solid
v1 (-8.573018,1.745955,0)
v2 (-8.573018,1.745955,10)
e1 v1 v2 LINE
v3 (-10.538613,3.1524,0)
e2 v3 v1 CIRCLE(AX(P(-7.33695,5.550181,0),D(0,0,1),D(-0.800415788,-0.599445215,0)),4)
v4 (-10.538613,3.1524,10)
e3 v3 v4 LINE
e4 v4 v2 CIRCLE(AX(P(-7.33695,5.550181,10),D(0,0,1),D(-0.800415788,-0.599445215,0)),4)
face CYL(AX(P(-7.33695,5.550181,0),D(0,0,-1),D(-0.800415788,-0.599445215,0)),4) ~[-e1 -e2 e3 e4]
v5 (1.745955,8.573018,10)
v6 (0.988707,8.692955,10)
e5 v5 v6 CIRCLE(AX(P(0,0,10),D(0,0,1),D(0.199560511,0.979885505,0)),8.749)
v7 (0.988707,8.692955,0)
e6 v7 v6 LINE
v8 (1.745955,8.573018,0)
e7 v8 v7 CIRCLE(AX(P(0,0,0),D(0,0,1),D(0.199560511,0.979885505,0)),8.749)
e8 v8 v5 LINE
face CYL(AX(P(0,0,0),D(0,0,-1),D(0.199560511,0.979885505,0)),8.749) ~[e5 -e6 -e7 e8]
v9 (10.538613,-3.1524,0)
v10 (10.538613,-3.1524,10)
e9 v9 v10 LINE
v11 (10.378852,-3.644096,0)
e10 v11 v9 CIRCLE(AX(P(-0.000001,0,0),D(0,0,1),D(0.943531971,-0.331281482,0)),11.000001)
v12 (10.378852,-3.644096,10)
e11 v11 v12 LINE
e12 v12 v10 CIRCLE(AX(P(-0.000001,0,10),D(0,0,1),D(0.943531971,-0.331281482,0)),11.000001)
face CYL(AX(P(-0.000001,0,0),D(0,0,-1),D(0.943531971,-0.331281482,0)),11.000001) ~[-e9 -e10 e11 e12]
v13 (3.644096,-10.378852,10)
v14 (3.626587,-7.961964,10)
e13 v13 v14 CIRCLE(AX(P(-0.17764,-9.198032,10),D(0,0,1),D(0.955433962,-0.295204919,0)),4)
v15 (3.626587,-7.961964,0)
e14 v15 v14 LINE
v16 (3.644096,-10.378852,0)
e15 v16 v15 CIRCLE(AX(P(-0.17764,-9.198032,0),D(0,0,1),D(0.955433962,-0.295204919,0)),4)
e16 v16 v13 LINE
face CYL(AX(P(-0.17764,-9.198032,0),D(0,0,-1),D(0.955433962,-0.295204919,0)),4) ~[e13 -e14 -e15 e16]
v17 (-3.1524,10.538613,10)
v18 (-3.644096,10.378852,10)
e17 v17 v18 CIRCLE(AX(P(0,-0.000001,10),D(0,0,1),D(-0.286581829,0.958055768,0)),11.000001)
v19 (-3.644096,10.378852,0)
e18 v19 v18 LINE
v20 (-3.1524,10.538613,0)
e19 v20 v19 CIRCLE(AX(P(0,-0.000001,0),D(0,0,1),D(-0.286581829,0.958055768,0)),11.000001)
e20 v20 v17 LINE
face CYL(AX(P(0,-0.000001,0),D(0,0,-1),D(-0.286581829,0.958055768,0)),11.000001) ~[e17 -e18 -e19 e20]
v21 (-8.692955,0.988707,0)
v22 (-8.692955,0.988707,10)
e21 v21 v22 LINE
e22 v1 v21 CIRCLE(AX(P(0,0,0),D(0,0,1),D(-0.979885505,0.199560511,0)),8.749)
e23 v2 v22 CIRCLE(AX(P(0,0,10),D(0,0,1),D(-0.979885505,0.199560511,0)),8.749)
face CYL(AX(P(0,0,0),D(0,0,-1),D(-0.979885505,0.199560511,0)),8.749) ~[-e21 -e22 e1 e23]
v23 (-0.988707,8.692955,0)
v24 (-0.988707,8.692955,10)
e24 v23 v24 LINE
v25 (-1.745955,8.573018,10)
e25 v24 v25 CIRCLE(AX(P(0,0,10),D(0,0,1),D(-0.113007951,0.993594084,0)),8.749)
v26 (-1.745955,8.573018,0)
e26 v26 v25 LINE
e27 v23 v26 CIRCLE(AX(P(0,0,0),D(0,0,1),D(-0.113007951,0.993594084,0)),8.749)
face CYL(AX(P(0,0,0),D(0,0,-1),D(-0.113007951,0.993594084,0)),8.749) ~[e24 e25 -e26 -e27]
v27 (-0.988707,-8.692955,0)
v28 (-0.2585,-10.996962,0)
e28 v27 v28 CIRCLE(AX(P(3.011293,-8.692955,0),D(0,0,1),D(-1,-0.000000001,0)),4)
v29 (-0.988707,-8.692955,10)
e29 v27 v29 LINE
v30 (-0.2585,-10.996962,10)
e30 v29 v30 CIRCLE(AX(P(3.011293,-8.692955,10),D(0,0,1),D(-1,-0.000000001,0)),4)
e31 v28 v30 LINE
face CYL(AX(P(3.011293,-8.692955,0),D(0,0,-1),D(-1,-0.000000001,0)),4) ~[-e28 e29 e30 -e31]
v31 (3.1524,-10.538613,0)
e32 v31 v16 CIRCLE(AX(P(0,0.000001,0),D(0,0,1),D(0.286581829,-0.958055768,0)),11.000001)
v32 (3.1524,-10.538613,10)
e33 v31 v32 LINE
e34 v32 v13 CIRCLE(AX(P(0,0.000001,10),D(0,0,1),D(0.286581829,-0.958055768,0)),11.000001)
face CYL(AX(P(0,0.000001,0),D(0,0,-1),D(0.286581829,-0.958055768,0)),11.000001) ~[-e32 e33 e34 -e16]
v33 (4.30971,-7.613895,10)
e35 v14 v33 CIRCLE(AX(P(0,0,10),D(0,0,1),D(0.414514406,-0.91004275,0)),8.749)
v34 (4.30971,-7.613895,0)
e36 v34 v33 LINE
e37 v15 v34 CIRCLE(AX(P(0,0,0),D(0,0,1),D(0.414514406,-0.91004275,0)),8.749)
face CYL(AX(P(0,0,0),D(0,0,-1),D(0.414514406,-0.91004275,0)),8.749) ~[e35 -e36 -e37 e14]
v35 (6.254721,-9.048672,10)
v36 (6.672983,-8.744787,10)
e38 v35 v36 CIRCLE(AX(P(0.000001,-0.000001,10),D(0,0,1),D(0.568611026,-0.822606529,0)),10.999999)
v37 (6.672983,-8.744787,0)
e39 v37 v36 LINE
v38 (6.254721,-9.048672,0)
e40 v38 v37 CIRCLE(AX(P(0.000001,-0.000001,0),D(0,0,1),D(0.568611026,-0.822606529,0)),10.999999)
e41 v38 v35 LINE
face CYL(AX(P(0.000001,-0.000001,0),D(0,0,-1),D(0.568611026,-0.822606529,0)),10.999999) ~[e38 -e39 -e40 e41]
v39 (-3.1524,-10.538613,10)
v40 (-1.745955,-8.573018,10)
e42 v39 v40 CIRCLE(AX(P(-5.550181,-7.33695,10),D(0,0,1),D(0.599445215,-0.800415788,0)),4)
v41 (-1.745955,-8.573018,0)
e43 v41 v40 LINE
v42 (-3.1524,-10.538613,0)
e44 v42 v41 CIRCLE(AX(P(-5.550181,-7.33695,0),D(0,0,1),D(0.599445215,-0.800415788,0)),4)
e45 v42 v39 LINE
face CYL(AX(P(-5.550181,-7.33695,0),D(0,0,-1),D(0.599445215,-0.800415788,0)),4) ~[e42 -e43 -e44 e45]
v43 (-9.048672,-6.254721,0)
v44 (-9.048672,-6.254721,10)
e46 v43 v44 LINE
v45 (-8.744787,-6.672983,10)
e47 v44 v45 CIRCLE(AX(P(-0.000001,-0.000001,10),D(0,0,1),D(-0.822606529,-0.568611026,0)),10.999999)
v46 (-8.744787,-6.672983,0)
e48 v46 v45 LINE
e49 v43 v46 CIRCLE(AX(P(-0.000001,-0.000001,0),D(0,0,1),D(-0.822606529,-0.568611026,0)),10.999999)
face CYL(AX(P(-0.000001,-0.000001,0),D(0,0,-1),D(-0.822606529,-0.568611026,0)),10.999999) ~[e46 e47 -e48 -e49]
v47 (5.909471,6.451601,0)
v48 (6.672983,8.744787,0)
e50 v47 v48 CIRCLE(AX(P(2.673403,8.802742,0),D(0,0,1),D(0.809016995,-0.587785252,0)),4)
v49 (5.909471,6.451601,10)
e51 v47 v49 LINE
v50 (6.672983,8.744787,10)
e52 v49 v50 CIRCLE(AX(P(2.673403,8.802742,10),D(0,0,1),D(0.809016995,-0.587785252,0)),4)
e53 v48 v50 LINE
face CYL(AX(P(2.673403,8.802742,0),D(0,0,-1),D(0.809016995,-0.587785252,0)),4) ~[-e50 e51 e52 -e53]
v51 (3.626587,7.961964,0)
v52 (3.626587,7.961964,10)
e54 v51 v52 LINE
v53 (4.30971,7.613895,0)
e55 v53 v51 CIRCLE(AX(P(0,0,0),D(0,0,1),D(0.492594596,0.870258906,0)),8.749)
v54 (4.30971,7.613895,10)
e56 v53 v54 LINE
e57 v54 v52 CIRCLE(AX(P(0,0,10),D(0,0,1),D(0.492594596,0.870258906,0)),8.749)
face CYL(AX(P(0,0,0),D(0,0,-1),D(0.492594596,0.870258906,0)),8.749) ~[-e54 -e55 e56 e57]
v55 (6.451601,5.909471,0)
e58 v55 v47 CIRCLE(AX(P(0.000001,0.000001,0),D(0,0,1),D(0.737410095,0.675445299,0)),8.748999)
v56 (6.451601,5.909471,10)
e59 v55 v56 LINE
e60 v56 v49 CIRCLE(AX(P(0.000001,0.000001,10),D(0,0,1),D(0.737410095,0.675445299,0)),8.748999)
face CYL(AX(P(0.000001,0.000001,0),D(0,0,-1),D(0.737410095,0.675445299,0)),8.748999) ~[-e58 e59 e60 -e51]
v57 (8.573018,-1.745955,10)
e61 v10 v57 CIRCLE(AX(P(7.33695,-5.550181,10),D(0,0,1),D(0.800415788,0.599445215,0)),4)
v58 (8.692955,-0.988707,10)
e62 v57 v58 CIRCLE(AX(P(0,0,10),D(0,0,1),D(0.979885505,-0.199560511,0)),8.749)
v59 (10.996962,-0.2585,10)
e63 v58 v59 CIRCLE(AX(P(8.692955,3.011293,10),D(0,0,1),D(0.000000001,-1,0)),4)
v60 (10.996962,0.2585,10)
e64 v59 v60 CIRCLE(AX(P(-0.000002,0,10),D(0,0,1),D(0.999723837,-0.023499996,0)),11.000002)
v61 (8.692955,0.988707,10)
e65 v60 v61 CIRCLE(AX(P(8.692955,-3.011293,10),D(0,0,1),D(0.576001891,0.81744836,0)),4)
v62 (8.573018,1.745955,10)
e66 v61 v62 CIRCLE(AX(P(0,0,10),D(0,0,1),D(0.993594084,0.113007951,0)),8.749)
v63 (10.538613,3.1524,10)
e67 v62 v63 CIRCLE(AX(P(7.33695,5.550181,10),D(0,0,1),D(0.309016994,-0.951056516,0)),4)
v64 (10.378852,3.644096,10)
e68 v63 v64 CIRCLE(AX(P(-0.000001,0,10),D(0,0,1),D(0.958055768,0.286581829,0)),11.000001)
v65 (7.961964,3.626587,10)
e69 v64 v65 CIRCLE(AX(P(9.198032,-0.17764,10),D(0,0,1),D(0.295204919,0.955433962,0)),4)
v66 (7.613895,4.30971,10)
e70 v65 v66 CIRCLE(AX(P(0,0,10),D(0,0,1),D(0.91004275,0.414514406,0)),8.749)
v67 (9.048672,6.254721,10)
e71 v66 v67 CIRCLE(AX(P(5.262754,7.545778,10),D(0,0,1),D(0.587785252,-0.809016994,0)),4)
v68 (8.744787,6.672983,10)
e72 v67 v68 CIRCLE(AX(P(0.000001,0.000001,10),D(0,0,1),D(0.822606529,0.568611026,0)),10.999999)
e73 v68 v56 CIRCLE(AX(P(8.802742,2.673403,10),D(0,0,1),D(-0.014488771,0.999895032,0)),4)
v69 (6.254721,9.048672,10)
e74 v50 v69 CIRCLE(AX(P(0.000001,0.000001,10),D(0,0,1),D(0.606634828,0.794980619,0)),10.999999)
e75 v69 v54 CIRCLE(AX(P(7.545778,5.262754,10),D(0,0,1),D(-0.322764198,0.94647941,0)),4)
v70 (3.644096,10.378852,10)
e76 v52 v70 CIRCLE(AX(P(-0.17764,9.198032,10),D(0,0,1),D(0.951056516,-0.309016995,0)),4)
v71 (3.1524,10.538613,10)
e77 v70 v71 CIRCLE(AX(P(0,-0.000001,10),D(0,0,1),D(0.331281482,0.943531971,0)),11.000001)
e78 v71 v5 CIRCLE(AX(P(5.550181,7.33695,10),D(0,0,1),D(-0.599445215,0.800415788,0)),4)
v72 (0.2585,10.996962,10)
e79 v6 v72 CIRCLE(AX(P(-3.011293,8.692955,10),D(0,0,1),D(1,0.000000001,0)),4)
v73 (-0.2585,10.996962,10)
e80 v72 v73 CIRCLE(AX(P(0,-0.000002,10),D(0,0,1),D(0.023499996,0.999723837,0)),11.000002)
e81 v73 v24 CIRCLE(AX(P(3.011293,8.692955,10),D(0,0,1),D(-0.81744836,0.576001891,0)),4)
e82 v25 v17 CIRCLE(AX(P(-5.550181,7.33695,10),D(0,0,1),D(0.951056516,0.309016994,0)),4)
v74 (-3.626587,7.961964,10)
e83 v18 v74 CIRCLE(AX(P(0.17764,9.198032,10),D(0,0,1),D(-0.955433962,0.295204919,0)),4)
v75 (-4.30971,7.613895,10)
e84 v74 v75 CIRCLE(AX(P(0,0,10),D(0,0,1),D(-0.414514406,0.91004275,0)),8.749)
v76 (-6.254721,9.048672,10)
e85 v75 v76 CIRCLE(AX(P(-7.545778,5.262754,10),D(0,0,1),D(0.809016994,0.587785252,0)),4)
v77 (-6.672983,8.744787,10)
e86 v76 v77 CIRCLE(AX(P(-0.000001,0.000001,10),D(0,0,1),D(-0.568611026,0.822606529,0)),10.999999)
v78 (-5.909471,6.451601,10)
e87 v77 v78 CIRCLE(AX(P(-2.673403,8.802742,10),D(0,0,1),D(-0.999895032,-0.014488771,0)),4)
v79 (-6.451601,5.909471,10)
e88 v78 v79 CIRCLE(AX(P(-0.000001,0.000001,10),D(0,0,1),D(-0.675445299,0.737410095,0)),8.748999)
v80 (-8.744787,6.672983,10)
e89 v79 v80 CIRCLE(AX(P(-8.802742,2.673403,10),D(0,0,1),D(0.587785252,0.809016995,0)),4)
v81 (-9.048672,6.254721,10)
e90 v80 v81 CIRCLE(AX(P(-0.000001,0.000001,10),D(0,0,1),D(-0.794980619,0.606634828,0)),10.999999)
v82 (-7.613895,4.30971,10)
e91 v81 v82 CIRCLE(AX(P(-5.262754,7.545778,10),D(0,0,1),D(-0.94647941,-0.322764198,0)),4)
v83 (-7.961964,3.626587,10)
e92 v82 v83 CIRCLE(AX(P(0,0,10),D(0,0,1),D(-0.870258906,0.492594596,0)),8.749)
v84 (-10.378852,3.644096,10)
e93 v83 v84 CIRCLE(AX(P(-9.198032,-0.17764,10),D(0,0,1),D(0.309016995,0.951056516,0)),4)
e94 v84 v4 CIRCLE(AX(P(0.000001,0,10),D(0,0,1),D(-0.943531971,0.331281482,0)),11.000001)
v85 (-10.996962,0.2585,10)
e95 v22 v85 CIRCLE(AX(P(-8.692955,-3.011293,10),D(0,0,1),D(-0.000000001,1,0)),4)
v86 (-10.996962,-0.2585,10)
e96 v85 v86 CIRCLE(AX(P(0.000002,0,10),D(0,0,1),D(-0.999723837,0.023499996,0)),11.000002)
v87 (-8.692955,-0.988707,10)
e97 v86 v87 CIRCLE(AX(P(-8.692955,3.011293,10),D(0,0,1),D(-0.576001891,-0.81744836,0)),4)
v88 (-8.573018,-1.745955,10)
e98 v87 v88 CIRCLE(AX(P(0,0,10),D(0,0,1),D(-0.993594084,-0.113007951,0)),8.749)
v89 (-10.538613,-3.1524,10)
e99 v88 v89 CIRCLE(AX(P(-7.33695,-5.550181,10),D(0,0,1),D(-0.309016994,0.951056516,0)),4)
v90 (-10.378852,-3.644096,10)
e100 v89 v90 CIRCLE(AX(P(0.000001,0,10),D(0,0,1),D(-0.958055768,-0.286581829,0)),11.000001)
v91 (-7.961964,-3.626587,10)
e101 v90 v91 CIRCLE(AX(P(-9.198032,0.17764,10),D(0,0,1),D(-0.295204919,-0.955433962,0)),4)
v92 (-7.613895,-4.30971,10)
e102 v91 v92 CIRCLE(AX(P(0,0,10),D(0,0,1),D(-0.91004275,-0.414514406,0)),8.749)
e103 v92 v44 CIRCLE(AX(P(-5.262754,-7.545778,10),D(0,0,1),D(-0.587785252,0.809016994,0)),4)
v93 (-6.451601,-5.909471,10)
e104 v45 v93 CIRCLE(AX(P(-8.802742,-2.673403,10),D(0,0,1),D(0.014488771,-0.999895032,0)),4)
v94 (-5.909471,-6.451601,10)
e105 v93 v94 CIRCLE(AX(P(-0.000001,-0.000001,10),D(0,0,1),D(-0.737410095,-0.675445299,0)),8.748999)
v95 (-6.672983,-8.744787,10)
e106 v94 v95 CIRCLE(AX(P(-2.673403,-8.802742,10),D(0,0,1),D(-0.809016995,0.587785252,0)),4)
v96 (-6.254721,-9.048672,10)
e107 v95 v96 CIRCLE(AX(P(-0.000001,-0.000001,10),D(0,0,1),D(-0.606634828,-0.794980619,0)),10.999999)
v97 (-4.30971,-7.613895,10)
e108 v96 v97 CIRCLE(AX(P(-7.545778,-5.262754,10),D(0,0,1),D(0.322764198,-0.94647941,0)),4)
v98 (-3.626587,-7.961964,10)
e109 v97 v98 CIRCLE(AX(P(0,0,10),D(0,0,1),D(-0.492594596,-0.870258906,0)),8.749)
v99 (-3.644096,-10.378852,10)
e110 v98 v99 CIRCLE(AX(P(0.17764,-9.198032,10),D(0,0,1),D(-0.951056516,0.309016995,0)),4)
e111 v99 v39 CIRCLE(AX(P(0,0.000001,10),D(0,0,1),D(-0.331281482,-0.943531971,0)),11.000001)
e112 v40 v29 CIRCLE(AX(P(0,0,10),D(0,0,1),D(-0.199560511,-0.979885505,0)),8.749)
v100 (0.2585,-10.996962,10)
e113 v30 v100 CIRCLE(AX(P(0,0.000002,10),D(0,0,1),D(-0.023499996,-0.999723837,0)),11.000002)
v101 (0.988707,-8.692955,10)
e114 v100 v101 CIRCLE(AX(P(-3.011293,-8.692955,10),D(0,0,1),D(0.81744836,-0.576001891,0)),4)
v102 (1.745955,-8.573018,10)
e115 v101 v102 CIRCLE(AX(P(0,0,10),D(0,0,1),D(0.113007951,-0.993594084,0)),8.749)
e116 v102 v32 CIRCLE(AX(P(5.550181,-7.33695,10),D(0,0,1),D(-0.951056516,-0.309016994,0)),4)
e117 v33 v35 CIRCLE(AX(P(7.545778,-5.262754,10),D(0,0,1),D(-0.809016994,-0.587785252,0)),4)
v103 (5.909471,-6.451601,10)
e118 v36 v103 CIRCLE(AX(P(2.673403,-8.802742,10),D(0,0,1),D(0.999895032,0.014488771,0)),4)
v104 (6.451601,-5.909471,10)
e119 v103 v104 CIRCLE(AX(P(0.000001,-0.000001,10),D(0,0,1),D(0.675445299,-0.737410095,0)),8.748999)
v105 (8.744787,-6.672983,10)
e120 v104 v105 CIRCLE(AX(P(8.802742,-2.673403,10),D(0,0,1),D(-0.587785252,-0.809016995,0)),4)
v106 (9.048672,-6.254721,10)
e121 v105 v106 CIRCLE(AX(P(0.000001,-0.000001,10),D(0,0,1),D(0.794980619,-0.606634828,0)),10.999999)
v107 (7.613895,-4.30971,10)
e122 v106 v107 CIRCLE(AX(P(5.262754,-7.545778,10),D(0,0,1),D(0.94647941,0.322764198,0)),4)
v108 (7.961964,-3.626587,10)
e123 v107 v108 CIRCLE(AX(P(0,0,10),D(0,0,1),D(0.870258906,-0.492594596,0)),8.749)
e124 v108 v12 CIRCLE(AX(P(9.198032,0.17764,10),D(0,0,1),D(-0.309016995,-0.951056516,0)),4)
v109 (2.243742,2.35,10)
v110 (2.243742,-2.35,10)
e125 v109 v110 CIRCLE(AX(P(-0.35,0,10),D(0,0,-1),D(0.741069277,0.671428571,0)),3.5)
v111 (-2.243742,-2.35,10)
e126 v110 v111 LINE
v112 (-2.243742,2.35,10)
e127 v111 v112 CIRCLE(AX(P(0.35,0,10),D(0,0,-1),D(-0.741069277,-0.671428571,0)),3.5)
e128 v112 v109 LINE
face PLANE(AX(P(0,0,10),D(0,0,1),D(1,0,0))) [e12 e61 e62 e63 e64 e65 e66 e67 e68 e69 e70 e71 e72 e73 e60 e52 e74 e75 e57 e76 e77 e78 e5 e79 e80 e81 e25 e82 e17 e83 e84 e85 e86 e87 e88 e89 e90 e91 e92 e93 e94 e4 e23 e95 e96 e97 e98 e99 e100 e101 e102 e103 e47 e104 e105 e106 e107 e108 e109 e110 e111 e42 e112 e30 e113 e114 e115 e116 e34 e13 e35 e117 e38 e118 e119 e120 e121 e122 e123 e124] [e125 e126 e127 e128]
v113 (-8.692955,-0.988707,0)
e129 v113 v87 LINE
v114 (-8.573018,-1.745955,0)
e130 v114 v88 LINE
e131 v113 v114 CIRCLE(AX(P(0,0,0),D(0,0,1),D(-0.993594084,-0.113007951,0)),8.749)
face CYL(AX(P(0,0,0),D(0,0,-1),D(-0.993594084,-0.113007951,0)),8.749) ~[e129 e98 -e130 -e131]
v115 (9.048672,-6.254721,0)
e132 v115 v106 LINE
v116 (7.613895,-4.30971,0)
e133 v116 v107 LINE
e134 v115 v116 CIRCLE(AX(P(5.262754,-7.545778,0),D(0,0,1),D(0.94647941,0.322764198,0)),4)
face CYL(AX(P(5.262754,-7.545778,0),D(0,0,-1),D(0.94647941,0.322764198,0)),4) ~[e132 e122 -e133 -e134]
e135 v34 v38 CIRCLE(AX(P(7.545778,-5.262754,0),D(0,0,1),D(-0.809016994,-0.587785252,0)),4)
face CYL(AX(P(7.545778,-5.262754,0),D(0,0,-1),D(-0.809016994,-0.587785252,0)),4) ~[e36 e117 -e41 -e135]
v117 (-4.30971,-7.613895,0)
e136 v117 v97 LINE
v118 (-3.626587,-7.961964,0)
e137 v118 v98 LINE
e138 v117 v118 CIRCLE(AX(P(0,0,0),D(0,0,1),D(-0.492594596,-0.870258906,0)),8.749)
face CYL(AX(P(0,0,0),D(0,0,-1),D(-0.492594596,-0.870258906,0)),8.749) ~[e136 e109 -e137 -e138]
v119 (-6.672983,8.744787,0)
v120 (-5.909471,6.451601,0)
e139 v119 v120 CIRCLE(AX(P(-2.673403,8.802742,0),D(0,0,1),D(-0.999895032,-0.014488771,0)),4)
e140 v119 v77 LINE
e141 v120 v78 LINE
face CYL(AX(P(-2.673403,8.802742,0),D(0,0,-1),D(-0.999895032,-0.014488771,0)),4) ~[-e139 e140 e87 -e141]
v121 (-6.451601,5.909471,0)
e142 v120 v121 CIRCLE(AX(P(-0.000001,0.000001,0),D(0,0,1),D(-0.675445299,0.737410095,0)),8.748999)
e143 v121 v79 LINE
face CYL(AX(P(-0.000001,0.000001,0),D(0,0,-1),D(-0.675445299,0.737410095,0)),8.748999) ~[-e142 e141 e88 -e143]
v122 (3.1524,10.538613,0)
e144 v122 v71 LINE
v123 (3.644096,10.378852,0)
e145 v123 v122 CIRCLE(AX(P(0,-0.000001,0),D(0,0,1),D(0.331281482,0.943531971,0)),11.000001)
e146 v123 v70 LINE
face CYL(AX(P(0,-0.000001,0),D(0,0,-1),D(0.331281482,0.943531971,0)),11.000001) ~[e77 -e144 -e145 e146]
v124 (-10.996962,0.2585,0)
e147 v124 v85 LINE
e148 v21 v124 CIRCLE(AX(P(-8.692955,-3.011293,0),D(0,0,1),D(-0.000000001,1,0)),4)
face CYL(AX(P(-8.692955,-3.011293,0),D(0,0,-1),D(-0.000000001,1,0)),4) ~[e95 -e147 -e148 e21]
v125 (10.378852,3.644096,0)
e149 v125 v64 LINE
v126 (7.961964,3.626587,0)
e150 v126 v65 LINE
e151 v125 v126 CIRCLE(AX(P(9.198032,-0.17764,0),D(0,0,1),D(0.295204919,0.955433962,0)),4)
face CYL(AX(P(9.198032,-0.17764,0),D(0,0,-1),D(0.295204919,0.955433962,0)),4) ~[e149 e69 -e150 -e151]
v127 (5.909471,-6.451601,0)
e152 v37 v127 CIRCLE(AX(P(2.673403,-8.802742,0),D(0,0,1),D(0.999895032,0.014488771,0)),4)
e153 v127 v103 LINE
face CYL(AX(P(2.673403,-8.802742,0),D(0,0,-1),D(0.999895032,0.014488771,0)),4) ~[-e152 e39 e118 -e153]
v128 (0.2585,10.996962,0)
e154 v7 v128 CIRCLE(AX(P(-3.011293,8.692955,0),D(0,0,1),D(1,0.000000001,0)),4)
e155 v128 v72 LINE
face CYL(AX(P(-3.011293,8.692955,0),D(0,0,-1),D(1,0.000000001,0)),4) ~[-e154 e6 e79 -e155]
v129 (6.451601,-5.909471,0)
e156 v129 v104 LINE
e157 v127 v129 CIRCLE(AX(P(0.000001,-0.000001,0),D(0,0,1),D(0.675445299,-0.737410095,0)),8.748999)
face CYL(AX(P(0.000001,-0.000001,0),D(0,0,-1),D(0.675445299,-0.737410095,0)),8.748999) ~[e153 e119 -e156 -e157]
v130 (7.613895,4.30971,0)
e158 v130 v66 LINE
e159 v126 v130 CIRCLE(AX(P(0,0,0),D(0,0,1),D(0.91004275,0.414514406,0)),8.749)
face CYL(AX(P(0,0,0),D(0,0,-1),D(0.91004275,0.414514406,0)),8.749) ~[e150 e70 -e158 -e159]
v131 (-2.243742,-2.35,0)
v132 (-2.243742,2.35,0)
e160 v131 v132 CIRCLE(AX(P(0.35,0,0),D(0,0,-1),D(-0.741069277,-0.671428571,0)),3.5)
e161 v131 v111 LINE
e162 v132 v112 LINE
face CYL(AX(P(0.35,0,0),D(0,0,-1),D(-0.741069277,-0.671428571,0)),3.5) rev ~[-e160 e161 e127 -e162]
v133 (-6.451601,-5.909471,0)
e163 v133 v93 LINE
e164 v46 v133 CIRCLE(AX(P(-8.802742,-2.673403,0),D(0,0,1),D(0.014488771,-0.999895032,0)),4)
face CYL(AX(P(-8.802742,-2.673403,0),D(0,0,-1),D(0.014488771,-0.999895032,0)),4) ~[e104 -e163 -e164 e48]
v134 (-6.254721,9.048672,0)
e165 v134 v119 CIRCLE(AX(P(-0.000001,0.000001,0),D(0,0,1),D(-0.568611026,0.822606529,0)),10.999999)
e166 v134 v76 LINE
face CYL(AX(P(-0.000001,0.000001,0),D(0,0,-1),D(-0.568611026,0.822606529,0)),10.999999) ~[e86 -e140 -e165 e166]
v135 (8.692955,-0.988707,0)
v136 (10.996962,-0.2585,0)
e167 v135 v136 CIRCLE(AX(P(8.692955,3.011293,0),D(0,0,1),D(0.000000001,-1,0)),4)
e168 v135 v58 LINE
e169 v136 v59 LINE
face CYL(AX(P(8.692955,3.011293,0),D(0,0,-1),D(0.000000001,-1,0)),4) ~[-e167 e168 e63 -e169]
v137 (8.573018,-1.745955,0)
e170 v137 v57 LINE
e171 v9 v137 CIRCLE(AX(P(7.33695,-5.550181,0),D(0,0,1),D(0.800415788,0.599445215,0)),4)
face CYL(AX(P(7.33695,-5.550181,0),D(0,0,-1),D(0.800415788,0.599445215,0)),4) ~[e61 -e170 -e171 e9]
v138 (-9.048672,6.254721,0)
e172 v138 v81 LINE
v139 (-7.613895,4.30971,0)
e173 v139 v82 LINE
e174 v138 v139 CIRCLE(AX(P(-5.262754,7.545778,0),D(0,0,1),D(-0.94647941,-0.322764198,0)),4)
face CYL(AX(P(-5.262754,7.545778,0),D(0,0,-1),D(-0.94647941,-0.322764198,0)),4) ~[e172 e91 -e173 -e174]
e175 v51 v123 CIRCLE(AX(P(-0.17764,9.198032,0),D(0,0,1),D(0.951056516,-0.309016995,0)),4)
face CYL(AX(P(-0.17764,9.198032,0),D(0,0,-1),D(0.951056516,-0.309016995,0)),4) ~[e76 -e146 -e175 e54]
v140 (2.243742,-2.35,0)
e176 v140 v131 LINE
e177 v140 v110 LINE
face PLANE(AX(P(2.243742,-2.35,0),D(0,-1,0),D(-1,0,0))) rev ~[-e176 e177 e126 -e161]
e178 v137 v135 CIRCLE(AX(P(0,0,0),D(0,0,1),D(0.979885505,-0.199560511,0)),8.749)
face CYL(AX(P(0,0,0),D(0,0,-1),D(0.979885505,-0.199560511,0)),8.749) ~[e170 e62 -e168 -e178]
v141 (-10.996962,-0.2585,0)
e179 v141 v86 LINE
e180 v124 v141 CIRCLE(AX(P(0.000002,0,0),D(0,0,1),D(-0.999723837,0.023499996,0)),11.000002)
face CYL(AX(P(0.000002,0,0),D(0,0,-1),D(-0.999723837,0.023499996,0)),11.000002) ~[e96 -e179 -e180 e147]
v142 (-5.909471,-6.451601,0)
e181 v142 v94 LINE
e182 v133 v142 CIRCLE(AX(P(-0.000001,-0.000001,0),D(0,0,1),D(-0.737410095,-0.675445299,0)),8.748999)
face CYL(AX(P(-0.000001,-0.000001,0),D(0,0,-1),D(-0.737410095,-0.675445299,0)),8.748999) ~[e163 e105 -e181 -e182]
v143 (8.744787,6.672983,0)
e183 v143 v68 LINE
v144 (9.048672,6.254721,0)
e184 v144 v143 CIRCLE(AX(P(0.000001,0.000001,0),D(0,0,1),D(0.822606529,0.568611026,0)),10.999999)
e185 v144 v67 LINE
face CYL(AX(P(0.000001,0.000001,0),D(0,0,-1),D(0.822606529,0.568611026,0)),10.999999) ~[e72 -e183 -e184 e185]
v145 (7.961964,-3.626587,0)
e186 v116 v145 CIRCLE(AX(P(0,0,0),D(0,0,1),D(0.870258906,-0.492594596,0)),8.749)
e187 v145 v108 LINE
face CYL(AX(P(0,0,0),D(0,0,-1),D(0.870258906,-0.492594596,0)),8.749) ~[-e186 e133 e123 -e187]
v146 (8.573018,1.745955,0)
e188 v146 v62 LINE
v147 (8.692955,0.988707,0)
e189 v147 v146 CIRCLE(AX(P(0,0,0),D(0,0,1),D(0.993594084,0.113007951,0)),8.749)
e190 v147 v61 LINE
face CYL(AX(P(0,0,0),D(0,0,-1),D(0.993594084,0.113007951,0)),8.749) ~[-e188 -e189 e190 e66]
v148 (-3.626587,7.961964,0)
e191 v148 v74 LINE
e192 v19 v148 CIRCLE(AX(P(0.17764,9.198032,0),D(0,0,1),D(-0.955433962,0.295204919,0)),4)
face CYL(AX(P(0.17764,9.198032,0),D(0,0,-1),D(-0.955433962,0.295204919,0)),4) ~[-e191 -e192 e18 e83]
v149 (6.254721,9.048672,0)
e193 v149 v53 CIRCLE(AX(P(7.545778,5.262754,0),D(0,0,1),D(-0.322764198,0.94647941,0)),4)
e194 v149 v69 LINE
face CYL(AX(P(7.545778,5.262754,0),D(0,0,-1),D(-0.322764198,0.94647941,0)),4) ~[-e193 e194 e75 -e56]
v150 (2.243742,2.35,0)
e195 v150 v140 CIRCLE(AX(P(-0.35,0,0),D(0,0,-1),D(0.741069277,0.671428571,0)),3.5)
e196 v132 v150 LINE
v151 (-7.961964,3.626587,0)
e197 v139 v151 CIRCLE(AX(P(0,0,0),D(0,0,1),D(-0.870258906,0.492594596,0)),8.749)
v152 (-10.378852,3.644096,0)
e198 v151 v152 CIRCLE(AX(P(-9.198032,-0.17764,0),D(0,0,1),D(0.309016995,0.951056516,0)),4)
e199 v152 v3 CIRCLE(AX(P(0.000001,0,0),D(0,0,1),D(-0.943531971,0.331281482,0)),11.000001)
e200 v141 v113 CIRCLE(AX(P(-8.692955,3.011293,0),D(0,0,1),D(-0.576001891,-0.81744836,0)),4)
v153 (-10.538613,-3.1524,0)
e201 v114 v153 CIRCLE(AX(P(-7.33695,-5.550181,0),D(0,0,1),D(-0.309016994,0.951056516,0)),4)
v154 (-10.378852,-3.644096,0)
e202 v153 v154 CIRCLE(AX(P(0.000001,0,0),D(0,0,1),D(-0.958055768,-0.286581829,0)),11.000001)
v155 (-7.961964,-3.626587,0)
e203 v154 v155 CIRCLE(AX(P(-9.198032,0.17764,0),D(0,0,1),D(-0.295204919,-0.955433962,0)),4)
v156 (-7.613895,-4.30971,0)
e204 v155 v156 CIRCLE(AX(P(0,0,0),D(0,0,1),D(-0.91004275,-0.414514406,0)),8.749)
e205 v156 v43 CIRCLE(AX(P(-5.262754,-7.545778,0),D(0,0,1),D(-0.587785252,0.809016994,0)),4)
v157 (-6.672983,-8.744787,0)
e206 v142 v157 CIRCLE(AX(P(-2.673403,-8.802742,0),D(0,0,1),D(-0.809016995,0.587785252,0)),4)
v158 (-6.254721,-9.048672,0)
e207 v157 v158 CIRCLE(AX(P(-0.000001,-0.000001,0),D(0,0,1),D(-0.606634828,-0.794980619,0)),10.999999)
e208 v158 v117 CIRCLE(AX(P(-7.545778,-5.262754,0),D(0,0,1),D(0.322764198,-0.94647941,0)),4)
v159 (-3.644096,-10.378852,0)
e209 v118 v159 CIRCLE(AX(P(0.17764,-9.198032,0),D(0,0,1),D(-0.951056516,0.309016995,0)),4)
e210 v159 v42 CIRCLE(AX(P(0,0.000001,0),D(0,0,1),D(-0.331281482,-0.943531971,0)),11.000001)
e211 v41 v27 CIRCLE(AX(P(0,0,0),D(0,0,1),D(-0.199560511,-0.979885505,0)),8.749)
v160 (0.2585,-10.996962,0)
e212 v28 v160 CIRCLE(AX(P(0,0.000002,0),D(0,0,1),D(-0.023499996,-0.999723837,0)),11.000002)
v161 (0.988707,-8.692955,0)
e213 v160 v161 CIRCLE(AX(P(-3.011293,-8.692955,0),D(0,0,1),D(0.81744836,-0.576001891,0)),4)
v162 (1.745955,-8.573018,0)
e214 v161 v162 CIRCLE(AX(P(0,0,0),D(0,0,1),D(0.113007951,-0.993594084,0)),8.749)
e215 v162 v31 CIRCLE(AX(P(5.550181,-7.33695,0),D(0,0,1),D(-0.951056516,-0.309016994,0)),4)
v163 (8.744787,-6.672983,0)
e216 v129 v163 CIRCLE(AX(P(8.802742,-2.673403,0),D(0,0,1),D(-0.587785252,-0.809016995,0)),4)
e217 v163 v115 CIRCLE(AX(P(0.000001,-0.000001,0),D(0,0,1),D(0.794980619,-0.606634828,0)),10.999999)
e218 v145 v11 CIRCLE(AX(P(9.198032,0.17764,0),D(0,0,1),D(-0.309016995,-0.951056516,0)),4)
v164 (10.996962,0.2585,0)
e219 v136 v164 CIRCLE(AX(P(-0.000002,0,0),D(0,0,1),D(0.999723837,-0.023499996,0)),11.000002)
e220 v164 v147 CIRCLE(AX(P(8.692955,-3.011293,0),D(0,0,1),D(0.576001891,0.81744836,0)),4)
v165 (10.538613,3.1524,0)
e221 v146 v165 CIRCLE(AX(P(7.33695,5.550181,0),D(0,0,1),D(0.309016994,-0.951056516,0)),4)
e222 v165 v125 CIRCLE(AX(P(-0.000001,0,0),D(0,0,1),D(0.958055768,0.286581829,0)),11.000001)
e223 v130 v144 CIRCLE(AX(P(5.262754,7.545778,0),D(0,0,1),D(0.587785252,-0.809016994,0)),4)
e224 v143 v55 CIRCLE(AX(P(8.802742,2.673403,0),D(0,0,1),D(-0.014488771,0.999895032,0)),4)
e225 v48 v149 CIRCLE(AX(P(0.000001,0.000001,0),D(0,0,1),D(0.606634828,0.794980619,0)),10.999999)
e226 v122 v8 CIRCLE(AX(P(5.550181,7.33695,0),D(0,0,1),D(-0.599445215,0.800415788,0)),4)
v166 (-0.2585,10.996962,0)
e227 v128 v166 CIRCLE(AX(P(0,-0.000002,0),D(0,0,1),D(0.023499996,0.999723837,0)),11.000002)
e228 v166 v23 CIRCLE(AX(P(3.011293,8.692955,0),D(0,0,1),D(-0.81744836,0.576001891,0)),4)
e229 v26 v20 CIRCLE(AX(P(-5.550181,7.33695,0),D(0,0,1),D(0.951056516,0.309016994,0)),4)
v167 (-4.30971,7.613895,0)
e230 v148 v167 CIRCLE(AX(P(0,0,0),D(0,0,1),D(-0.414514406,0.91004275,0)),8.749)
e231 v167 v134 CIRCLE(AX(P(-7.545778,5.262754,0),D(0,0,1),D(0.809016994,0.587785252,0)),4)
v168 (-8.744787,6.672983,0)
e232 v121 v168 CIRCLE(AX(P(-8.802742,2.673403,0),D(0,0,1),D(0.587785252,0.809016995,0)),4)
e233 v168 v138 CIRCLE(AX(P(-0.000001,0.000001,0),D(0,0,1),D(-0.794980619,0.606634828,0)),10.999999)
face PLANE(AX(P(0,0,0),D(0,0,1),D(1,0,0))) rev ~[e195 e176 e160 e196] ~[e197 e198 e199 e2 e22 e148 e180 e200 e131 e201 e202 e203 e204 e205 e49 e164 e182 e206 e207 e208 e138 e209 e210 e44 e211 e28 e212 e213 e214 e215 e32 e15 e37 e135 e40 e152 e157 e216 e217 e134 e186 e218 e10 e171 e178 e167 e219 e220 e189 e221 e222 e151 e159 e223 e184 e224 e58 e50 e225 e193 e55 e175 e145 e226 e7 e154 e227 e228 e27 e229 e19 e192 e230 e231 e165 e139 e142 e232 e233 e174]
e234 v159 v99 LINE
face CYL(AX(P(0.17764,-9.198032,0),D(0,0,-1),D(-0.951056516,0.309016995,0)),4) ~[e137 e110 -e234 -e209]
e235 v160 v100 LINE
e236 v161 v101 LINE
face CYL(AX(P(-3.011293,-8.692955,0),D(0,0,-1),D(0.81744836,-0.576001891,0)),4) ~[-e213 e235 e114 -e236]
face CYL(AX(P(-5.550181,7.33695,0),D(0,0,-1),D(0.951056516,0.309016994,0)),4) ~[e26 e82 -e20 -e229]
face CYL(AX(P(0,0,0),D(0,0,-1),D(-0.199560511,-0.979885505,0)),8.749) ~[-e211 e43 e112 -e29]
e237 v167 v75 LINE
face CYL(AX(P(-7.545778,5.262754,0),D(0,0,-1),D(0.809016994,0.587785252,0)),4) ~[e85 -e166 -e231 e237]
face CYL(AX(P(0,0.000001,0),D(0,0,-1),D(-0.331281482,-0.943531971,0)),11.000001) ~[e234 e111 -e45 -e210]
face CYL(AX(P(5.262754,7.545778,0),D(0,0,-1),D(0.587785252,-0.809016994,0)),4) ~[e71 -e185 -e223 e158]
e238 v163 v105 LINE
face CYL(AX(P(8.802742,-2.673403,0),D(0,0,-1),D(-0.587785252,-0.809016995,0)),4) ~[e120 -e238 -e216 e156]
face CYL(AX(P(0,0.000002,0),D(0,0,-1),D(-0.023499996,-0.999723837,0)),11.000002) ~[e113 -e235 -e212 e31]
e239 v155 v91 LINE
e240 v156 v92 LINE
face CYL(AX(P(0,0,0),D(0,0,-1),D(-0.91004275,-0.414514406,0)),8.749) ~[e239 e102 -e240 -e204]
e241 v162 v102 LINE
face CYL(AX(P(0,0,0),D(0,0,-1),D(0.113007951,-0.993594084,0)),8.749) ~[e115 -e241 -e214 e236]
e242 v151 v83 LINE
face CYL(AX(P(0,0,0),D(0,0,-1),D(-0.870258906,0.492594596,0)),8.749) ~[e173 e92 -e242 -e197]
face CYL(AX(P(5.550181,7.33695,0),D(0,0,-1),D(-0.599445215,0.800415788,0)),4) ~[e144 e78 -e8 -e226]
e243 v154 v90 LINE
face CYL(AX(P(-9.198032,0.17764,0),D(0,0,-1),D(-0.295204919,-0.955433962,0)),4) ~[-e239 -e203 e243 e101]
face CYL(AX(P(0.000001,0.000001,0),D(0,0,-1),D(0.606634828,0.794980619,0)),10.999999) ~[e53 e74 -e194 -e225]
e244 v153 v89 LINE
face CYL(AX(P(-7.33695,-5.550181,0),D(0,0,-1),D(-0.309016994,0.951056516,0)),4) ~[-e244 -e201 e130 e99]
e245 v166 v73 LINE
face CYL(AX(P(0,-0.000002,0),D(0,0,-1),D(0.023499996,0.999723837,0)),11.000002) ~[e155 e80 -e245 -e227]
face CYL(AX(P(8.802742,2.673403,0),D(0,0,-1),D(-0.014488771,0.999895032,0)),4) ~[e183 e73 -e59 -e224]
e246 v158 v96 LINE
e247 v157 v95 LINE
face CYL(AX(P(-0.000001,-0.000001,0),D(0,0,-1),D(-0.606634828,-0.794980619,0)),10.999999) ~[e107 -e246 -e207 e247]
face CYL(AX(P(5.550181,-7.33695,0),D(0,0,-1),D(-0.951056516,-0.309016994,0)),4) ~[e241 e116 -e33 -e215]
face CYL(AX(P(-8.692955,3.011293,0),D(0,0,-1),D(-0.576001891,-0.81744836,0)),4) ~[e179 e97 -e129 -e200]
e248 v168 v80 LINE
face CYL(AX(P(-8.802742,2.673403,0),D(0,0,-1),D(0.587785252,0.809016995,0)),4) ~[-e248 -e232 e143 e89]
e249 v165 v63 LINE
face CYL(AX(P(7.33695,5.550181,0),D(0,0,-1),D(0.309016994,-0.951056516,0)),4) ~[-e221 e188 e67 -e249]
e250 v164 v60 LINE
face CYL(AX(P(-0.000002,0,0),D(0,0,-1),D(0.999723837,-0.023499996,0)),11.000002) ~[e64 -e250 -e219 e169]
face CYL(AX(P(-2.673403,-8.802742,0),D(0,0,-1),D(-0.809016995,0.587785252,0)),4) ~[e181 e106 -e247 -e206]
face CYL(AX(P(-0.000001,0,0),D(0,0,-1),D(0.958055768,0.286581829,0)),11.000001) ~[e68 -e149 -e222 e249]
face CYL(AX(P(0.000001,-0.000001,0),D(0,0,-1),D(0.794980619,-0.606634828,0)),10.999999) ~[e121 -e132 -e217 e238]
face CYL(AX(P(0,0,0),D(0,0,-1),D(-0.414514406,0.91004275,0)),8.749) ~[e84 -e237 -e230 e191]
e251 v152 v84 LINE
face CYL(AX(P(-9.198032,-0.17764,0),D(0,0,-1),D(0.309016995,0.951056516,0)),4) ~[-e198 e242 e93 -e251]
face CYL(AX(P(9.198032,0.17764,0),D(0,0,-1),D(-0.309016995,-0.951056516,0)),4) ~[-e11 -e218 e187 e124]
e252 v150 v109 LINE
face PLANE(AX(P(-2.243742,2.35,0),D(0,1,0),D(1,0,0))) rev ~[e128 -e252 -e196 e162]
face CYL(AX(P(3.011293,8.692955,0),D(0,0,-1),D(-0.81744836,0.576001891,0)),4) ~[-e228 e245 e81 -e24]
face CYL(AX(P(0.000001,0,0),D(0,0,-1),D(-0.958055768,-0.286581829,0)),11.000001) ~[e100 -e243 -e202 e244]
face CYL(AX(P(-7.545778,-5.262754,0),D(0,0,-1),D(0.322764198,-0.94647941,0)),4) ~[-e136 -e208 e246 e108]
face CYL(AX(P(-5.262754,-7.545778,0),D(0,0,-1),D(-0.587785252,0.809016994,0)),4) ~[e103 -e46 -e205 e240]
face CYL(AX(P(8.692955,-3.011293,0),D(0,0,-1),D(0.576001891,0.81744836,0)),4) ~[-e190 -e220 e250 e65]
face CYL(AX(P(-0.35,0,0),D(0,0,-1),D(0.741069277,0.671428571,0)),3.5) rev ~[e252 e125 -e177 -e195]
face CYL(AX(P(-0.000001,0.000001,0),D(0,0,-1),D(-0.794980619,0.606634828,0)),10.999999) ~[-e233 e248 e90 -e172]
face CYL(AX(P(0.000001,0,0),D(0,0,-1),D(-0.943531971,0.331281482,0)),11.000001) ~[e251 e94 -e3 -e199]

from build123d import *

# Parameters (mm, degrees)
BOSS_EXTRUDE1_DEPTH = 10


with BuildPart() as part:
    # Sketch1 → Boss-Extrude1 (new body)
    with BuildSketch(Plane.XY):
        with BuildLine():
            ThreePointArc((10.996962206, -0.2585), (11, 0), (10.996962206, 0.2585))
            ThreePointArc((10.996962206, 0.2585), (9.901430175, 0.801787583), (8.692954638, 0.988706562))
            ThreePointArc((8.692954638, 0.988706562), (8.641285292, 1.368645135), (8.573018284, 1.745954896))
            ThreePointArc((8.573018284, 1.745954896), (9.664585678, 2.297164887), (10.538613458, 3.152400099))
            ThreePointArc((10.538613458, 3.152400099), (10.461621679, 3.399186938), (10.378851672, 3.644096317))
            ThreePointArc((10.378851672, 3.644096317), (9.169053699, 3.822255499), (7.961964024, 3.626586533))
            ThreePointArc((7.961964024, 3.626586533), (7.79541608, 3.971962882), (7.613895169, 4.309710124))
            ThreePointArc((7.613895169, 4.309710124), (8.481704197, 5.171254853), (9.048671798, 6.254721311))
            ThreePointArc((9.048671798, 6.254721311), (8.899186938, 6.465637775), (8.744786823, 6.672983097))
            ThreePointArc((8.744786823, 6.672983097), (7.539146363, 6.468574414), (6.451600897, 5.909470946))
            ThreePointArc((6.451600897, 5.909470946), (6.186477229, 6.186477229), (5.909470946, 6.451600897))
            ThreePointArc((5.909470946, 6.451600897), (6.468574414, 7.539146363), (6.672983097, 8.744786823))
            ThreePointArc((6.672983097, 8.744786823), (6.465637775, 8.899186938), (6.254721311, 9.048671798))
            ThreePointArc((6.254721311, 9.048671798), (5.171254853, 8.481704197), (4.309710124, 7.613895169))
            ThreePointArc((4.309710124, 7.613895169), (3.971962882, 7.79541608), (3.626586533, 7.961964024))
            ThreePointArc((3.626586533, 7.961964024), (3.822255499, 9.169053699), (3.644096317, 10.378851672))
            ThreePointArc((3.644096317, 10.378851672), (3.399186938, 10.461621679), (3.152400099, 10.538613458))
            ThreePointArc((3.152400099, 10.538613458), (2.297164887, 9.664585678), (1.745954896, 8.573018284))
            ThreePointArc((1.745954896, 8.573018284), (1.368645135, 8.641285292), (0.988706562, 8.692954638))
            ThreePointArc((0.988706562, 8.692954638), (0.801787583, 9.901430175), (0.2585, 10.996962206))
            ThreePointArc((0.2585, 10.996962206), (0, 11), (-0.2585, 10.996962206))
            ThreePointArc((-0.2585, 10.996962206), (-0.801787583, 9.901430175), (-0.988706562, 8.692954638))
            ThreePointArc((-0.988706562, 8.692954638), (-1.368645135, 8.641285292), (-1.745954896, 8.573018284))
            ThreePointArc((-1.745954896, 8.573018284), (-2.297164887, 9.664585678), (-3.152400099, 10.538613458))
            ThreePointArc((-3.152400099, 10.538613458), (-3.399186938, 10.461621679), (-3.644096317, 10.378851672))
            ThreePointArc((-3.644096317, 10.378851672), (-3.822255499, 9.169053699), (-3.626586533, 7.961964024))
            ThreePointArc((-3.626586533, 7.961964024), (-3.971962882, 7.79541608), (-4.309710124, 7.613895169))
            ThreePointArc((-4.309710124, 7.613895169), (-5.171254853, 8.481704197), (-6.254721311, 9.048671798))
            ThreePointArc((-6.254721311, 9.048671798), (-6.465637775, 8.899186938), (-6.672983097, 8.744786823))
            ThreePointArc((-6.672983097, 8.744786823), (-6.468574414, 7.539146363), (-5.909470946, 6.451600897))
            ThreePointArc((-5.909470946, 6.451600897), (-6.186477229, 6.186477229), (-6.451600897, 5.909470946))
            ThreePointArc((-6.451600897, 5.909470946), (-7.539146363, 6.468574414), (-8.744786823, 6.672983097))
            ThreePointArc((-8.744786823, 6.672983097), (-8.899186938, 6.465637775), (-9.048671798, 6.254721311))
            ThreePointArc((-9.048671798, 6.254721311), (-8.481704197, 5.171254853), (-7.613895169, 4.309710124))
            ThreePointArc((-7.613895169, 4.309710124), (-7.79541608, 3.971962882), (-7.961964024, 3.626586533))
            ThreePointArc((-7.961964024, 3.626586533), (-9.169053699, 3.822255499), (-10.378851672, 3.644096317))
            ThreePointArc((-10.378851672, 3.644096317), (-10.461621679, 3.399186938), (-10.538613458, 3.152400099))
            ThreePointArc((-10.538613458, 3.152400099), (-9.664585678, 2.297164887), (-8.573018284, 1.745954896))
            ThreePointArc((-8.573018284, 1.745954896), (-8.641285292, 1.368645135), (-8.692954638, 0.988706562))
            ThreePointArc((-8.692954638, 0.988706562), (-9.901430175, 0.801787583), (-10.996962206, 0.2585))
            ThreePointArc((-10.996962206, 0.2585), (-11, 0), (-10.996962206, -0.2585))
            ThreePointArc((-10.996962206, -0.2585), (-9.901430175, -0.801787583), (-8.692954638, -0.988706562))
            ThreePointArc((-8.692954638, -0.988706562), (-8.641285292, -1.368645135), (-8.573018284, -1.745954896))
            ThreePointArc((-8.573018284, -1.745954896), (-9.664585678, -2.297164887), (-10.538613458, -3.152400099))
            ThreePointArc((-10.538613458, -3.152400099), (-10.461621679, -3.399186938), (-10.378851672, -3.644096317))
            ThreePointArc((-10.378851672, -3.644096317), (-9.169053699, -3.822255499), (-7.961964024, -3.626586533))
            ThreePointArc((-7.961964024, -3.626586533), (-7.79541608, -3.971962882), (-7.613895169, -4.309710124))
            ThreePointArc((-7.613895169, -4.309710124), (-8.481704197, -5.171254853), (-9.048671798, -6.254721311))
            ThreePointArc((-9.048671798, -6.254721311), (-8.899186938, -6.465637775), (-8.744786823, -6.672983097))
            ThreePointArc((-8.744786823, -6.672983097), (-7.539146363, -6.468574414), (-6.451600897, -5.909470946))
            ThreePointArc((-6.451600897, -5.909470946), (-6.186477229, -6.186477229), (-5.909470946, -6.451600897))
            ThreePointArc((-5.909470946, -6.451600897), (-6.468574414, -7.539146363), (-6.672983097, -8.744786823))
            ThreePointArc((-6.672983097, -8.744786823), (-6.465637775, -8.899186938), (-6.254721311, -9.048671798))
            ThreePointArc((-6.254721311, -9.048671798), (-5.171254853, -8.481704197), (-4.309710124, -7.613895169))
            ThreePointArc((-4.309710124, -7.613895169), (-3.971962882, -7.79541608), (-3.626586533, -7.961964024))
            ThreePointArc((-3.626586533, -7.961964024), (-3.822255499, -9.169053699), (-3.644096317, -10.378851672))
            ThreePointArc((-3.644096317, -10.378851672), (-3.399186938, -10.461621679), (-3.152400099, -10.538613458))
            ThreePointArc((-3.152400099, -10.538613458), (-2.297164887, -9.664585678), (-1.745954896, -8.573018284))
            ThreePointArc((-1.745954896, -8.573018284), (-1.368645135, -8.641285292), (-0.988706562, -8.692954638))
            ThreePointArc((-0.988706562, -8.692954638), (-0.801787583, -9.901430175), (-0.2585, -10.996962206))
            ThreePointArc((-0.2585, -10.996962206), (0, -11), (0.2585, -10.996962206))
            ThreePointArc((0.2585, -10.996962206), (0.801787583, -9.901430175), (0.988706562, -8.692954638))
            ThreePointArc((0.988706562, -8.692954638), (1.368645135, -8.641285292), (1.745954896, -8.573018284))
            ThreePointArc((1.745954896, -8.573018284), (2.297164887, -9.664585678), (3.152400099, -10.538613458))
            ThreePointArc((3.152400099, -10.538613458), (3.399186938, -10.461621679), (3.644096317, -10.378851672))
            ThreePointArc((3.644096317, -10.378851672), (3.822255499, -9.169053699), (3.626586533, -7.961964024))
            ThreePointArc((3.626586533, -7.961964024), (3.971962882, -7.79541608), (4.309710124, -7.613895169))
            ThreePointArc((4.309710124, -7.613895169), (5.171254853, -8.481704197), (6.254721311, -9.048671798))
            ThreePointArc((6.254721311, -9.048671798), (6.465637775, -8.899186938), (6.672983097, -8.744786823))
            ThreePointArc((6.672983097, -8.744786823), (6.468574414, -7.539146363), (5.909470946, -6.451600897))
            ThreePointArc((5.909470946, -6.451600897), (6.186477229, -6.186477229), (6.451600897, -5.909470946))
            ThreePointArc((6.451600897, -5.909470946), (7.539146363, -6.468574414), (8.744786823, -6.672983097))
            ThreePointArc((8.744786823, -6.672983097), (8.899186938, -6.465637775), (9.048671798, -6.254721311))
            ThreePointArc((9.048671798, -6.254721311), (8.481704197, -5.171254853), (7.613895169, -4.309710124))
            ThreePointArc((7.613895169, -4.309710124), (7.79541608, -3.971962882), (7.961964024, -3.626586533))
            ThreePointArc((7.961964024, -3.626586533), (9.169053699, -3.822255499), (10.378851672, -3.644096317))
            ThreePointArc((10.378851672, -3.644096317), (10.461621679, -3.399186938), (10.538613458, -3.152400099))
            ThreePointArc((10.538613458, -3.152400099), (9.664585678, -2.297164887), (8.573018284, -1.745954896))
            ThreePointArc((8.573018284, -1.745954896), (8.641285292, -1.368645135), (8.692954638, -0.988706562))
            ThreePointArc((8.692954638, -0.988706562), (9.901430175, -0.801787583), (10.996962206, -0.2585))
        make_face()
        with BuildLine():
            Line((-2.24374247, 2.35), (2.24374247, 2.35))
            ThreePointArc((2.24374247, 2.35), (3.15, 0), (2.24374247, -2.35))
            Line((2.24374247, -2.35), (-2.24374247, -2.35))
            ThreePointArc((-2.24374247, -2.35), (-3.15, 0), (-2.24374247, 2.35))
        make_face(mode=Mode.SUBTRACT)
    extrude(amount=BOSS_EXTRUDE1_DEPTH)


solid = part.part
